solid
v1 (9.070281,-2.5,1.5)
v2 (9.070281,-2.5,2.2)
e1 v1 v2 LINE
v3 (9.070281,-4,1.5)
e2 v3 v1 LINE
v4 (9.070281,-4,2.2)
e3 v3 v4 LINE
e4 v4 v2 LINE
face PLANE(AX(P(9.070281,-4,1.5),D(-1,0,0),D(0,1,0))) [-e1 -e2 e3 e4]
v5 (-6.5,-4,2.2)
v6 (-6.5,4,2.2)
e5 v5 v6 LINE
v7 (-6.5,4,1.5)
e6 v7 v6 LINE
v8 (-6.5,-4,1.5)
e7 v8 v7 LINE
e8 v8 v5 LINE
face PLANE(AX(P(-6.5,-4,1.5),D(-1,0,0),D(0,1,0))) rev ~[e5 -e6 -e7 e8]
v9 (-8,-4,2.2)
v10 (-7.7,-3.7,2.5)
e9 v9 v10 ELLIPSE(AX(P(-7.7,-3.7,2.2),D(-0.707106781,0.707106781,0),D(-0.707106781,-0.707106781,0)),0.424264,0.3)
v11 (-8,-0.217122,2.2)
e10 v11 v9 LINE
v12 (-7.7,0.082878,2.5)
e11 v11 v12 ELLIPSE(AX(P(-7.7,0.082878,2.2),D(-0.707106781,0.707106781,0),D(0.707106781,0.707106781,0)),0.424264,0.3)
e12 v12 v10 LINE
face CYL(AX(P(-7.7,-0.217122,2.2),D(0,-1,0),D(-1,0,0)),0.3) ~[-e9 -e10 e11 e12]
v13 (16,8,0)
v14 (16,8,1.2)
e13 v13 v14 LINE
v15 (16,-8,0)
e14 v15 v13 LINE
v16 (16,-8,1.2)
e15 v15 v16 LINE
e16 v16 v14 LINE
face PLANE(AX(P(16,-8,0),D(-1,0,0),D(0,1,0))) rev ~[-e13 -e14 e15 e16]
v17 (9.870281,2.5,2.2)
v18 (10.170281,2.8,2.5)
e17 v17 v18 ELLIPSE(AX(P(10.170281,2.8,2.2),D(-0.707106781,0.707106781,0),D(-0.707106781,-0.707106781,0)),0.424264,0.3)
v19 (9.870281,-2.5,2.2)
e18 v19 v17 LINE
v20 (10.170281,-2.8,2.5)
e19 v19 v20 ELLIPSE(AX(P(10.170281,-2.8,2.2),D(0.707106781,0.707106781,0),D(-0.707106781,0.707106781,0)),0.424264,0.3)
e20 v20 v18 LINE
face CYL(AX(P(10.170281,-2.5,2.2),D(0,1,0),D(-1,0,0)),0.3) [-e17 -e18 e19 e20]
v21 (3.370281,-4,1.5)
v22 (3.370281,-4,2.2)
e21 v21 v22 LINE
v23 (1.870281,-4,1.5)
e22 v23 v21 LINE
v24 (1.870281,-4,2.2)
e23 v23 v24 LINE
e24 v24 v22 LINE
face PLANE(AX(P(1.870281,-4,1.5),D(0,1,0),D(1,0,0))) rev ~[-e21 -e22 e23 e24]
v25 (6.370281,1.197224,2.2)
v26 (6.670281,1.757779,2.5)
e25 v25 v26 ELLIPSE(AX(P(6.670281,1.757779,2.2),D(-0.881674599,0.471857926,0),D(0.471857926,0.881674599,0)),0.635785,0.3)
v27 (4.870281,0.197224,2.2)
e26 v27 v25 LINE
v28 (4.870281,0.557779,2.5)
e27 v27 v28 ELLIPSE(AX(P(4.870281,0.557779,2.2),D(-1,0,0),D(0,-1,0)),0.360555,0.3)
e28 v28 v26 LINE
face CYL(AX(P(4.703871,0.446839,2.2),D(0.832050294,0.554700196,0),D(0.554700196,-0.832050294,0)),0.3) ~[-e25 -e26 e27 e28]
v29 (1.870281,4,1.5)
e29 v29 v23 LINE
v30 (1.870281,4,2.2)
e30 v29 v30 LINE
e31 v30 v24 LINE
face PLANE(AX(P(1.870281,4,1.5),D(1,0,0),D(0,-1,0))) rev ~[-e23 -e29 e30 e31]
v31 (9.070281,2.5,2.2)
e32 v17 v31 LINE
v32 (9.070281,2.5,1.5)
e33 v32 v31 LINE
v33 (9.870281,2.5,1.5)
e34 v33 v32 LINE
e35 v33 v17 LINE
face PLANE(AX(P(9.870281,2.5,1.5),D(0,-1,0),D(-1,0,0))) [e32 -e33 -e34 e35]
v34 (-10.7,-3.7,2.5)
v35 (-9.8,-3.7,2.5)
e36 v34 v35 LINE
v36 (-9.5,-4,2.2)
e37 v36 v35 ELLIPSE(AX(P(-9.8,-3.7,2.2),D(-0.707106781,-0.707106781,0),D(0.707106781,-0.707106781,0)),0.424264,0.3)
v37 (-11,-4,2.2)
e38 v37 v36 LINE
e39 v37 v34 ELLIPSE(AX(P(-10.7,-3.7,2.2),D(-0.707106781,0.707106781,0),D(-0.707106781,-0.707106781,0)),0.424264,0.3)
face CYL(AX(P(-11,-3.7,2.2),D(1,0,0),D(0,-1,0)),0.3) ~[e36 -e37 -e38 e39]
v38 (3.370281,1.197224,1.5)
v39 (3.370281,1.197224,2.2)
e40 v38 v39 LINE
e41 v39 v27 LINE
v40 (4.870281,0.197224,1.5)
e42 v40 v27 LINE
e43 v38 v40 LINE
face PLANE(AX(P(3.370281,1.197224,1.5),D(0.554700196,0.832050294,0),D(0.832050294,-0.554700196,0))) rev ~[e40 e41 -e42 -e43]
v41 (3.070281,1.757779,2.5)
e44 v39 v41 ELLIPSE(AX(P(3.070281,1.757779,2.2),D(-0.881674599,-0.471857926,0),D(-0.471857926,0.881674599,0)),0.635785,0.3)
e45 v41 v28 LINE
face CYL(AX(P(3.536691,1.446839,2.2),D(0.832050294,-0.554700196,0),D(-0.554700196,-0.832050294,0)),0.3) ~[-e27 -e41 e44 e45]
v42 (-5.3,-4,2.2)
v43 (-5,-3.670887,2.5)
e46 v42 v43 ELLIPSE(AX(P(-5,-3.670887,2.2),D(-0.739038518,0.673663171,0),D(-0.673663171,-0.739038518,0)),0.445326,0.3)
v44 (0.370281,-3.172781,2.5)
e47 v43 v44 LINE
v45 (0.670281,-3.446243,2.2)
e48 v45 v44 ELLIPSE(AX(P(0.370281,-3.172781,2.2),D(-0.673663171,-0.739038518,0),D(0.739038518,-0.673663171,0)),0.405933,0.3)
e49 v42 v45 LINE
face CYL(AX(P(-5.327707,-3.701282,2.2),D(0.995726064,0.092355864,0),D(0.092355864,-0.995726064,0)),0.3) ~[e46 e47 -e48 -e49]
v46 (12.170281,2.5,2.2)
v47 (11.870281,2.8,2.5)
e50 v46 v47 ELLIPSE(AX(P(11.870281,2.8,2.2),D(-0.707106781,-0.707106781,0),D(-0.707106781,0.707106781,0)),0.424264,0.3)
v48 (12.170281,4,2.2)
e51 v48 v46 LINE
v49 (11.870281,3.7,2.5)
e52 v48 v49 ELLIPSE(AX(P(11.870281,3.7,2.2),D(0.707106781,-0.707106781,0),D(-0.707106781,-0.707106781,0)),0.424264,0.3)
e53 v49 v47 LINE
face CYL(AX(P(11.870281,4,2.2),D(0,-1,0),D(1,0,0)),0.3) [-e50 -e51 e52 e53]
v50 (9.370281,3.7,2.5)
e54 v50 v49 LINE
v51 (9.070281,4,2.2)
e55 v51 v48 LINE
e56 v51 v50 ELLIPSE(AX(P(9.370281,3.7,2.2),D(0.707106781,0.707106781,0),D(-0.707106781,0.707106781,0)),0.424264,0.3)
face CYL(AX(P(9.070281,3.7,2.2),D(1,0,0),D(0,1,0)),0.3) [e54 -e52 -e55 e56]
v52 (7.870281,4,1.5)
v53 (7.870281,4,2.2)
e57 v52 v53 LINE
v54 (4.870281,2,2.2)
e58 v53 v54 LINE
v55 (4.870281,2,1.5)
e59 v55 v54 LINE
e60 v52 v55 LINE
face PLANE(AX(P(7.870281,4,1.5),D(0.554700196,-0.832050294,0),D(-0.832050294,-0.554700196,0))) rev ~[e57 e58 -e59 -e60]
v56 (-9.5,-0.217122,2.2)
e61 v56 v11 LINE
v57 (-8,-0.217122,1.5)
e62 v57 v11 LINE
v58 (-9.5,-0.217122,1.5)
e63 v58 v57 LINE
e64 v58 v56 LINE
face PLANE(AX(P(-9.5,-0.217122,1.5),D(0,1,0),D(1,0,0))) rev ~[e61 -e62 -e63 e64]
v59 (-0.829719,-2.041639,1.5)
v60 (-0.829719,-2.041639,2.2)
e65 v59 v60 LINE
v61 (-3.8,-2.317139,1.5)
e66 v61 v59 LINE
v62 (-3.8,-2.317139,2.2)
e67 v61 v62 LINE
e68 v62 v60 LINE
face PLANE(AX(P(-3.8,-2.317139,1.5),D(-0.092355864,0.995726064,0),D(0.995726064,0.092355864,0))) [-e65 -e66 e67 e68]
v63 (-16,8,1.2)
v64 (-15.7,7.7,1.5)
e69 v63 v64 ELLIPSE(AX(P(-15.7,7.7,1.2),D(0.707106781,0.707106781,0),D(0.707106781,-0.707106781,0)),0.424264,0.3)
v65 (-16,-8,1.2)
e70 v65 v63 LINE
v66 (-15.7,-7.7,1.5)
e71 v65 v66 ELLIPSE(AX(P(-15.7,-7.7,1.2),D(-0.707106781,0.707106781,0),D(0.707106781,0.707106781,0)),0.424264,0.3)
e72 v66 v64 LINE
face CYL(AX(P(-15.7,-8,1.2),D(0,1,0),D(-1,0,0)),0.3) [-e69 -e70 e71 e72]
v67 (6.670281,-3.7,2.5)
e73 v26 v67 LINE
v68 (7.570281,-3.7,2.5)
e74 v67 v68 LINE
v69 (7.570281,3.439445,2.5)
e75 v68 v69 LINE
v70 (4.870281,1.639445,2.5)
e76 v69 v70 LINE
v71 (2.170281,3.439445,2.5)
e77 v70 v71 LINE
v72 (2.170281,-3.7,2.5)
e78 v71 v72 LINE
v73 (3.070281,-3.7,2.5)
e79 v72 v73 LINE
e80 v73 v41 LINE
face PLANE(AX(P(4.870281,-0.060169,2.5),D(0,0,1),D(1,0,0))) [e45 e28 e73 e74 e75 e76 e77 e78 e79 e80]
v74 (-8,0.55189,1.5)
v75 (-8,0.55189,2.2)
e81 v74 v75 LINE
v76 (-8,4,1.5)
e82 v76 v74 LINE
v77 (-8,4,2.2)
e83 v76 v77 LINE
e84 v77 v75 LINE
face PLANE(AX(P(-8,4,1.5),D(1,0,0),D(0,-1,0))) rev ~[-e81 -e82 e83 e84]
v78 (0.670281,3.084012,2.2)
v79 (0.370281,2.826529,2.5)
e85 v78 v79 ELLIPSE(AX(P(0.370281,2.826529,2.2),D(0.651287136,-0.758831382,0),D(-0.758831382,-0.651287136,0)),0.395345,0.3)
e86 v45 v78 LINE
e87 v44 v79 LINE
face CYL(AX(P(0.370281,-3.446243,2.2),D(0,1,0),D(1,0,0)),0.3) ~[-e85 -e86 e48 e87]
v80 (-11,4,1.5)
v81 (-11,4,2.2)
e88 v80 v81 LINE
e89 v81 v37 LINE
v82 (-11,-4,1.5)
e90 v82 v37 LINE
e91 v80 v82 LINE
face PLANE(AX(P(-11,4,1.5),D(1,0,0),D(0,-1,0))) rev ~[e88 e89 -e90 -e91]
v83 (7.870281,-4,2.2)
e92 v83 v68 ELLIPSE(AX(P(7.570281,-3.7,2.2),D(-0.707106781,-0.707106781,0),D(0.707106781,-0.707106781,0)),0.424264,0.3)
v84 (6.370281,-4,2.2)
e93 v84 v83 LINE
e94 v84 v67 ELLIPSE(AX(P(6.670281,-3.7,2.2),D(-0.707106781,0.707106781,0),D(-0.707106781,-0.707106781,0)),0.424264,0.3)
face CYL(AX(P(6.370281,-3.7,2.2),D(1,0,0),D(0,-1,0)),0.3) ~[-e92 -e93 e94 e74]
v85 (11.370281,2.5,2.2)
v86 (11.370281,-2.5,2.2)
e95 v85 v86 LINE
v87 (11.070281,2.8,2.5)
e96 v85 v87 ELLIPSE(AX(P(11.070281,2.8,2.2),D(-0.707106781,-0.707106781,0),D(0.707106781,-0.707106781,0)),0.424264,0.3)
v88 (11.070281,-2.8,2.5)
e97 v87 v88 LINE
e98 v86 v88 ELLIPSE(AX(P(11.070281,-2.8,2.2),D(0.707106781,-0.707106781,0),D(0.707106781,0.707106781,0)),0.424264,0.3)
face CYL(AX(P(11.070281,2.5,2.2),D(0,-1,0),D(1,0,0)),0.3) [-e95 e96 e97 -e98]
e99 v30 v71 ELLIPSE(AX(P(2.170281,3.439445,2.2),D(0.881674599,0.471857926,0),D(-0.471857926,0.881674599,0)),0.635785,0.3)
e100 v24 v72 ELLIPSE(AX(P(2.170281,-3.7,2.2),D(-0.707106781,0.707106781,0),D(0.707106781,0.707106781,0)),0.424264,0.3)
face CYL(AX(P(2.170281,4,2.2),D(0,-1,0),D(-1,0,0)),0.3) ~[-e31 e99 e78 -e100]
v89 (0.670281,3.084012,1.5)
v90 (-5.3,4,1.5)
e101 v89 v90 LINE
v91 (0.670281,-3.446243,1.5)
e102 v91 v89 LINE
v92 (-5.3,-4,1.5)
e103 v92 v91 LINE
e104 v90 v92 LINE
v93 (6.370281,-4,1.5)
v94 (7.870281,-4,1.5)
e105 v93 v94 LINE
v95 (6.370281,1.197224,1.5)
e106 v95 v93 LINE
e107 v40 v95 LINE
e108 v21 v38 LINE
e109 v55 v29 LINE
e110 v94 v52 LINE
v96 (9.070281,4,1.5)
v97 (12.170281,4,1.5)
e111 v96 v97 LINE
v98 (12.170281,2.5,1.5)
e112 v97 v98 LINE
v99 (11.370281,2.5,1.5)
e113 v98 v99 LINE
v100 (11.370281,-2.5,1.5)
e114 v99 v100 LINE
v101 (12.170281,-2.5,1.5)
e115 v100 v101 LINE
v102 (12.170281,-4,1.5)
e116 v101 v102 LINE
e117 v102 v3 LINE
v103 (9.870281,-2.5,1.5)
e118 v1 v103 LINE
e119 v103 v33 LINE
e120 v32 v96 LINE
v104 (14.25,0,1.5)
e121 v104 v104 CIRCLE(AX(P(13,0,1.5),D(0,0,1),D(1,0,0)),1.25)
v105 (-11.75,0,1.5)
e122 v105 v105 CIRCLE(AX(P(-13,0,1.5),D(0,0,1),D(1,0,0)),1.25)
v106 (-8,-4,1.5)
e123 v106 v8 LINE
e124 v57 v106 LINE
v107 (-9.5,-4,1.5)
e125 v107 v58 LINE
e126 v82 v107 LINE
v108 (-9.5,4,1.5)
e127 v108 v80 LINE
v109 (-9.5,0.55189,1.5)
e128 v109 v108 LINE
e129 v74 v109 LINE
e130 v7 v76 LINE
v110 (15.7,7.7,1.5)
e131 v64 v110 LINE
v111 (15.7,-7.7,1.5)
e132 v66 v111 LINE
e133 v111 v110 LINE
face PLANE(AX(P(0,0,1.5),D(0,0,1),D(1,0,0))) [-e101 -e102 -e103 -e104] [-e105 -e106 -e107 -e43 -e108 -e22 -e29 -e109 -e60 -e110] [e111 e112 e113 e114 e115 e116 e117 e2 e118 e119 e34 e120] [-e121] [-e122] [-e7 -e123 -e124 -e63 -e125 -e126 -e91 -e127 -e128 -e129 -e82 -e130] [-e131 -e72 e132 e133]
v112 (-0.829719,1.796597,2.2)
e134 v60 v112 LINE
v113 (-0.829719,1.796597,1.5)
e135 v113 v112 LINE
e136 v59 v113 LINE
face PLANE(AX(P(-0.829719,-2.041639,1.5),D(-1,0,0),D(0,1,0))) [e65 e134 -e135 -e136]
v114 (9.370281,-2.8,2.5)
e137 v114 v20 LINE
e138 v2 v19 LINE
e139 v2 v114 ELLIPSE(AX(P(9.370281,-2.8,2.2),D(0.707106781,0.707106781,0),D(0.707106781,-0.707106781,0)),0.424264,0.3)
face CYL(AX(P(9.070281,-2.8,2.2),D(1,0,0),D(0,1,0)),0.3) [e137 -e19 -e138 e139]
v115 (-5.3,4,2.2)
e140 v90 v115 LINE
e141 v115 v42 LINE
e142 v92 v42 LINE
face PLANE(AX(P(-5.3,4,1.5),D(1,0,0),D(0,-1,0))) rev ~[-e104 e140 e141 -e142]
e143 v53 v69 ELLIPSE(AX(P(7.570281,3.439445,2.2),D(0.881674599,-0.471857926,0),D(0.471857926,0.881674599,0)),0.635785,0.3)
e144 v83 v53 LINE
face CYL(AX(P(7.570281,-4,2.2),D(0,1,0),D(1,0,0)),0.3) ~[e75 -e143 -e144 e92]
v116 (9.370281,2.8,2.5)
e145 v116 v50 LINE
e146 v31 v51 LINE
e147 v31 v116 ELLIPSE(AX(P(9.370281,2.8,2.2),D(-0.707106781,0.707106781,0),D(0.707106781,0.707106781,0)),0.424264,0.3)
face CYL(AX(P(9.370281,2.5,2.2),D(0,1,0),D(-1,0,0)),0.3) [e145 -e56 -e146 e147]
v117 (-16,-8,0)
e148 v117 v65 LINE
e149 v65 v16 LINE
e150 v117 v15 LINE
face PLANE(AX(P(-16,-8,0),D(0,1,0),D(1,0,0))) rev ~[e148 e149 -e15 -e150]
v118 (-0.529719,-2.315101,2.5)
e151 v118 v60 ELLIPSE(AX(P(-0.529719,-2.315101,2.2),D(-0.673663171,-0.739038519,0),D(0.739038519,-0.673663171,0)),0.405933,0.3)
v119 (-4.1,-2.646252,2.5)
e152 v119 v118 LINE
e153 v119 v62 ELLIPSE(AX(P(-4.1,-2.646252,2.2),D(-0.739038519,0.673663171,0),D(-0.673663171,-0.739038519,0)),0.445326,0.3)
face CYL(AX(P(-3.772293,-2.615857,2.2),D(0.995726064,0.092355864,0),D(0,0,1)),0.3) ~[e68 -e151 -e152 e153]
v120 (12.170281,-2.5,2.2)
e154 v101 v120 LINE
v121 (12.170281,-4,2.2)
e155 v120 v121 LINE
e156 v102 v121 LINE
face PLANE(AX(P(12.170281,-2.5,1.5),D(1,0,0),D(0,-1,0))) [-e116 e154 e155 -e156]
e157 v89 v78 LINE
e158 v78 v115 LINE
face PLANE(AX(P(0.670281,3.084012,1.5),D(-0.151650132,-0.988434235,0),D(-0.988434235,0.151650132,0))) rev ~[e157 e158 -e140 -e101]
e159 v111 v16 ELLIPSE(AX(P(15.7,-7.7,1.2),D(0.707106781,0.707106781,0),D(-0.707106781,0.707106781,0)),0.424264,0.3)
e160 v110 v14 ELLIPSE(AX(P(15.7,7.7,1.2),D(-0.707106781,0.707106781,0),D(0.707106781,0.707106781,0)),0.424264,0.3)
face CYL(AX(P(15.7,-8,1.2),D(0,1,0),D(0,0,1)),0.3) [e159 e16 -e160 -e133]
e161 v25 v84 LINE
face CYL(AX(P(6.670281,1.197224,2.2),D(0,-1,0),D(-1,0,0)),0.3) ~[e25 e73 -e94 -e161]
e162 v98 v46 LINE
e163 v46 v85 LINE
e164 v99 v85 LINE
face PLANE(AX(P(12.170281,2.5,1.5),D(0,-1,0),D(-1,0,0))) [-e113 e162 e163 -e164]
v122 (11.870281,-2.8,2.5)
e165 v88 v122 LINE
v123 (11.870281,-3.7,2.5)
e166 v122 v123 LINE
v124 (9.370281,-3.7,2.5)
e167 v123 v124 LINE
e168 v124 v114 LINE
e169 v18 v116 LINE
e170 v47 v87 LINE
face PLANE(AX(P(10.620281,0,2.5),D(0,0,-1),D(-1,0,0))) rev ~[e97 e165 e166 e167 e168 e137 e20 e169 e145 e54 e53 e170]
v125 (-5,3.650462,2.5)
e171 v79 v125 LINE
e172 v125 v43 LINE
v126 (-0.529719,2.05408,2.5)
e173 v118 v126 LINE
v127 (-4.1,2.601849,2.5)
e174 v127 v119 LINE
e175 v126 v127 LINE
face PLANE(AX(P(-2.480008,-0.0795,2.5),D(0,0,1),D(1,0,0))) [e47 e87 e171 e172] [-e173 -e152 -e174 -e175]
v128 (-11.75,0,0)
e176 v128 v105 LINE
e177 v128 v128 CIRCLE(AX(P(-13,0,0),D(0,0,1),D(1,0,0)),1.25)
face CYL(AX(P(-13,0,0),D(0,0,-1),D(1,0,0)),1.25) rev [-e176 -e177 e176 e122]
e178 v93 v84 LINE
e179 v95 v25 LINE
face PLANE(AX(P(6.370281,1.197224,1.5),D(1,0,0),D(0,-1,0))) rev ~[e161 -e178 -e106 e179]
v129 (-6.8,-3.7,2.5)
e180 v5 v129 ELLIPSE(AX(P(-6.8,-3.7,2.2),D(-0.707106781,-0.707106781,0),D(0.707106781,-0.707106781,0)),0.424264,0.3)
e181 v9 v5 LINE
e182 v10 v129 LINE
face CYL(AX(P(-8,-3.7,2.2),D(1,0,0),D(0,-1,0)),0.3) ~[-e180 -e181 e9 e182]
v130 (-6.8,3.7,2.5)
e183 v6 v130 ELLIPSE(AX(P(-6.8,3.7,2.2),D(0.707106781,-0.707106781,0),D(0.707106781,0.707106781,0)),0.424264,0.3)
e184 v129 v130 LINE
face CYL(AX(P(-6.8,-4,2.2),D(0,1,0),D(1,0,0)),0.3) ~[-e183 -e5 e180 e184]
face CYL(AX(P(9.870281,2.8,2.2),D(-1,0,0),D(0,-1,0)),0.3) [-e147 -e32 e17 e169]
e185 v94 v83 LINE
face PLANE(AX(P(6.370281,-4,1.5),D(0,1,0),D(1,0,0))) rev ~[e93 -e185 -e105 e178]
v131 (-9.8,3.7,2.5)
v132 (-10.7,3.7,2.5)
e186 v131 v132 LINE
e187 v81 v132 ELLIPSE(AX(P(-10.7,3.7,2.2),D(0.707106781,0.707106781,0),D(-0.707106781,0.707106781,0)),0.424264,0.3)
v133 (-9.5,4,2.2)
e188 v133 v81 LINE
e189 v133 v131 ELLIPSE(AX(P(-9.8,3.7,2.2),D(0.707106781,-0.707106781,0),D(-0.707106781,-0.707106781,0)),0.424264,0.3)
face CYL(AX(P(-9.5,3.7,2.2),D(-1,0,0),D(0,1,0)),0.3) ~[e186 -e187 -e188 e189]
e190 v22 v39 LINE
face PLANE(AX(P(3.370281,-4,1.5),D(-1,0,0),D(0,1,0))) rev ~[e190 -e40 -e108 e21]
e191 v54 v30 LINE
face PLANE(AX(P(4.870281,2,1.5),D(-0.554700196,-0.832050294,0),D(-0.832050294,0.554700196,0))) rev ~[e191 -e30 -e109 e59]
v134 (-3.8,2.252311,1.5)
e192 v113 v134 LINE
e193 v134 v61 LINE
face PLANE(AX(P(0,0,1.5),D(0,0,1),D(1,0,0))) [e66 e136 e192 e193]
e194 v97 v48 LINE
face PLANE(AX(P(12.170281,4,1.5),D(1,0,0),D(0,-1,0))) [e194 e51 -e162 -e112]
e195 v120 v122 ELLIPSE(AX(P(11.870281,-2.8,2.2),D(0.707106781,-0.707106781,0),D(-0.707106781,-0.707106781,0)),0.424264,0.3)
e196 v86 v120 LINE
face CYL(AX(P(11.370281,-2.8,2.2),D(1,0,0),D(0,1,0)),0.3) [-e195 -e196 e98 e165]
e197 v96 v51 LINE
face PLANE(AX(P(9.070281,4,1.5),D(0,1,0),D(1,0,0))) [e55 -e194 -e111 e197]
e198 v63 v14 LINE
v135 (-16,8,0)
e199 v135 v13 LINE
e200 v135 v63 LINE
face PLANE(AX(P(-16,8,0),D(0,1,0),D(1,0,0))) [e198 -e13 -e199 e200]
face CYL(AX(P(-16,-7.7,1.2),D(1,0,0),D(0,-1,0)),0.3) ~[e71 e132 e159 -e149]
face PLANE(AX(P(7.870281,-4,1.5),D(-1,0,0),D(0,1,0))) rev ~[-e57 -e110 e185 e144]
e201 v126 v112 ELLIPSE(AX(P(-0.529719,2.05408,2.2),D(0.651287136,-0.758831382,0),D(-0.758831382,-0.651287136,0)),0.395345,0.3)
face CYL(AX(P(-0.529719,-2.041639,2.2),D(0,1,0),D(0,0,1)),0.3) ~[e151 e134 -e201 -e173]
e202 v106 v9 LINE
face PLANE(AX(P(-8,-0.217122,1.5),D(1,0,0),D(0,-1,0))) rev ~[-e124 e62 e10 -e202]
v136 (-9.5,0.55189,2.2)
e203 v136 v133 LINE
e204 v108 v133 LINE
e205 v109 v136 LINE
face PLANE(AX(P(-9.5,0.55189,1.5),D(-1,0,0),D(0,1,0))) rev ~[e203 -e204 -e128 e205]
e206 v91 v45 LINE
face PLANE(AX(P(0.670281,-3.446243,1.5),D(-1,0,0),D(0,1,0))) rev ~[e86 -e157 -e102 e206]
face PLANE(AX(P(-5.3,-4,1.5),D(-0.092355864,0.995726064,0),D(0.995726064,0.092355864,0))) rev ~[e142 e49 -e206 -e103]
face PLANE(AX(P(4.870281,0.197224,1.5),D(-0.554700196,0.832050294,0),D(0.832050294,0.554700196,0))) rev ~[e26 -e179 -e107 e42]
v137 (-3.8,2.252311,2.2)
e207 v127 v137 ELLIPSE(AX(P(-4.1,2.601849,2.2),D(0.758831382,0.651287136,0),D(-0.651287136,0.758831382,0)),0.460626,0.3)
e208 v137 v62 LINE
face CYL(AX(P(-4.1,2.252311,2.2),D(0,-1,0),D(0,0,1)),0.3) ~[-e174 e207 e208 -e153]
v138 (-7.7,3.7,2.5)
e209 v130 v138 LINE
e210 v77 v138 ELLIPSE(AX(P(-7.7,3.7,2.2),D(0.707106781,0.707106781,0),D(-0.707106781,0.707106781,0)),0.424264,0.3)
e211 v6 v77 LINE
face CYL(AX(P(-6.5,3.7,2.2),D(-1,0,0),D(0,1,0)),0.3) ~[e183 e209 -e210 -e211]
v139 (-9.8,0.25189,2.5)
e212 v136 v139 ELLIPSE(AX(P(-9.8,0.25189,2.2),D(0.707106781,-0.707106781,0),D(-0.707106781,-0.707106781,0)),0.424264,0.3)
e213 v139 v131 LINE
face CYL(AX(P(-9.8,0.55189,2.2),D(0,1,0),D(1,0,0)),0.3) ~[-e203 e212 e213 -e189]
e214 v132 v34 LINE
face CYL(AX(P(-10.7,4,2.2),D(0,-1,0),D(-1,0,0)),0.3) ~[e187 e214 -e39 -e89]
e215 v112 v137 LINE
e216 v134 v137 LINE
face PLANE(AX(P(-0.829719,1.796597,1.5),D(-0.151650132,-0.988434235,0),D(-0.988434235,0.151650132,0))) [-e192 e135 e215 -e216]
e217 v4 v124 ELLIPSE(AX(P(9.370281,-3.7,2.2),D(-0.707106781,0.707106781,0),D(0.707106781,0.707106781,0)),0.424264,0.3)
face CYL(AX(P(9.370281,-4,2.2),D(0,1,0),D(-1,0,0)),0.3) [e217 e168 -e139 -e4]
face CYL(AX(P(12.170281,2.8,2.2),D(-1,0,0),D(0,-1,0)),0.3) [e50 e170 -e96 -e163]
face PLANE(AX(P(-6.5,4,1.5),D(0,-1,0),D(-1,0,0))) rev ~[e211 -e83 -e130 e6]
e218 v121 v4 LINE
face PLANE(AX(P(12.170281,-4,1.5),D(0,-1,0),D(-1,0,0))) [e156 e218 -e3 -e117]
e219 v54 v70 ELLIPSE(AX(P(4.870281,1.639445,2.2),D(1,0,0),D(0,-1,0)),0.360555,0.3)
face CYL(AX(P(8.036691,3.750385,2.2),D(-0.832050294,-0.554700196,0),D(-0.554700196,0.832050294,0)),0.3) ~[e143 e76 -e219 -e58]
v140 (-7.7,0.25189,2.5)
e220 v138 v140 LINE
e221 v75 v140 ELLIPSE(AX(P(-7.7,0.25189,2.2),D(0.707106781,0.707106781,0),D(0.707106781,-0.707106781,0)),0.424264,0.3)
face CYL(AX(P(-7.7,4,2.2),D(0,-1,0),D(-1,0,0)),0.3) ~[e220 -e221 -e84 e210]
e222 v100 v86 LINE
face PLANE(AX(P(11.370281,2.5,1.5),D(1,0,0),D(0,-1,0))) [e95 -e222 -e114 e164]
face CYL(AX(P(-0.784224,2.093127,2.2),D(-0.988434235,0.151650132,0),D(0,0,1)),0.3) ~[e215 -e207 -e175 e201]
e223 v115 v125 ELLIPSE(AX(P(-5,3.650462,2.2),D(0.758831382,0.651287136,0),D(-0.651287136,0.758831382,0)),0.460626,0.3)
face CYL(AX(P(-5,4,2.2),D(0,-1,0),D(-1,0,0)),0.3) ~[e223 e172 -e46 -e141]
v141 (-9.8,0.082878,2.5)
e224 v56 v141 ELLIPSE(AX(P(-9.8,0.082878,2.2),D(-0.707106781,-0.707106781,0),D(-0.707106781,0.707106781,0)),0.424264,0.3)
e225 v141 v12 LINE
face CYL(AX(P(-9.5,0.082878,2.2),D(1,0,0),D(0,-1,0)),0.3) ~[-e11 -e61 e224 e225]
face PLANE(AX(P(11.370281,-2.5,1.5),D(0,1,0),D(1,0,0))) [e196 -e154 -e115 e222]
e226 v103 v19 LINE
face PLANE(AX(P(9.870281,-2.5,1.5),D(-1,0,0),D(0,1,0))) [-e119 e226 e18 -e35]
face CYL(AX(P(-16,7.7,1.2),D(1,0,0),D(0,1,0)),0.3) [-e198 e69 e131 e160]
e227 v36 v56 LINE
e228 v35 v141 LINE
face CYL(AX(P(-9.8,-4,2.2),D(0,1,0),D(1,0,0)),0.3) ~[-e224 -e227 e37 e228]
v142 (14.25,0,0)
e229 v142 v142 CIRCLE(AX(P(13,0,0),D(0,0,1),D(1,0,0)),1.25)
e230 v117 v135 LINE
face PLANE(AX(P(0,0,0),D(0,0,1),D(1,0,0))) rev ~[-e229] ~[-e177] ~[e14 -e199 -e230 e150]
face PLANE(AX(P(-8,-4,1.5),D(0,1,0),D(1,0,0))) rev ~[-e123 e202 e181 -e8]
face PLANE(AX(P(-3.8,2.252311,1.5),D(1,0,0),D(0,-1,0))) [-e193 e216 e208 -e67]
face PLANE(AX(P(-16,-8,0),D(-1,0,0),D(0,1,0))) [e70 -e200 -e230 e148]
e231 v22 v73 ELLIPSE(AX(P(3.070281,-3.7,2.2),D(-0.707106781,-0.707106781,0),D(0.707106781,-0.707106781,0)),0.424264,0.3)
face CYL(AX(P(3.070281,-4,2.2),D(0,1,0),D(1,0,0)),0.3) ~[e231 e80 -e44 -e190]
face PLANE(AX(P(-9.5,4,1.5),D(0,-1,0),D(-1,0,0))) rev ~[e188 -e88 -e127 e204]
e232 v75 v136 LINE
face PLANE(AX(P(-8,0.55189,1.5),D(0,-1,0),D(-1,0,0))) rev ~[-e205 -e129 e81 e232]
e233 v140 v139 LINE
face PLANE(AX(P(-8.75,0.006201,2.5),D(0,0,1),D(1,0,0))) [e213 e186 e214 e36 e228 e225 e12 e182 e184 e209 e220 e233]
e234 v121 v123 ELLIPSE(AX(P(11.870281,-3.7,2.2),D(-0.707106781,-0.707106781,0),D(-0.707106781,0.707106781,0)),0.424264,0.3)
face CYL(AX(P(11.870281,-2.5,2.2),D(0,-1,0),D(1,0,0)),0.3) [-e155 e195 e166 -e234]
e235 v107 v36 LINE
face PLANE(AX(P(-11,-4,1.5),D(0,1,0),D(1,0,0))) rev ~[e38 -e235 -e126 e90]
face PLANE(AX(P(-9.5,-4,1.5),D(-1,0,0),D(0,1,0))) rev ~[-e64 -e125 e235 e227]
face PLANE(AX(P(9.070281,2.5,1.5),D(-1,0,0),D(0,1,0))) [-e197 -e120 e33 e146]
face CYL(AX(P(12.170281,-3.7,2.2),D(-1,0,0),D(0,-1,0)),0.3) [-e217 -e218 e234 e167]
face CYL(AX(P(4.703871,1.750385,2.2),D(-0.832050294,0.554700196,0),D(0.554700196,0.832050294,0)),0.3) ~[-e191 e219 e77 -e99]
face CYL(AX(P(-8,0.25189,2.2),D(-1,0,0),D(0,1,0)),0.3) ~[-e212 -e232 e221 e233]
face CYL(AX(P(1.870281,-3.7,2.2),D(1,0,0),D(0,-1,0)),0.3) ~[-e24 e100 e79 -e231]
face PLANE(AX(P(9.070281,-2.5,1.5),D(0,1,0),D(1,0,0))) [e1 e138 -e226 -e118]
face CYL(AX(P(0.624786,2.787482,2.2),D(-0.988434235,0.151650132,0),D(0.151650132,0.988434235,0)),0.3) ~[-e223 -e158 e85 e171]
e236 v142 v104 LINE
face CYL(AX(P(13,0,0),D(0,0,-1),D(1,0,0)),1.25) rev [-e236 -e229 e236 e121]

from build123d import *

# Parameters (mm, degrees)
SKETCH_1_W      = 32
SKETCH_1_H      = 16
SKETCH_1_R      = 1.25
EXTRUDE_1_DEPTH = 1.5
EXTRUDE_2_DEPTH = 1
FILLET_2_R      = 0.3


with BuildPart() as part:
    # Эскиз1 → Бобышка-Вытянуть1 (new body)
    with BuildSketch(Plane.XY):
        Rectangle(SKETCH_1_W, SKETCH_1_H)
        with Locations((-13, 0)):
            Circle(SKETCH_1_R, mode=Mode.SUBTRACT)
        with Locations((13, 0)):
            Circle(SKETCH_1_R, mode=Mode.SUBTRACT)
    extrude(amount=EXTRUDE_1_DEPTH)

    # Эскиз3 → Бобышка-Вытянуть2 (add)
    # profile 1 of 4: a face of its own
    with BuildSketch(Plane.XY.offset(1.5)):
        Polygon((-11, 4), (-11, -4), (-9.5, -4), (-9.5, -0.217121743), (-8, -0.217121743), (-8, -4), (-6.5, -4), (-6.5, 4), (-8, 4), (-8, 0.55188973), (-9.5, 0.55188973), (-9.5, 4), align=None)
    # profile 2 of 4: a face of its own
    with BuildSketch(Plane.XY.offset(1.5)):
        Polygon((-5.3, 4), (-5.3, -4), (0.67028136, -3.446242786), (0.67028136, 3.084011942), align=None)
        Polygon((-3.8, 2.252311448), (-3.8, -2.317138921), (-0.82971864, -2.041638549), (-0.82971864, 1.796597204), align=None, mode=Mode.SUBTRACT)
    # profile 3 of 4: a face of its own
    with BuildSketch(Plane.XY.offset(1.5)):
        Polygon((1.87028136, 4), (1.87028136, -4), (3.37028136, -4), (3.37028136, 1.197224362), (4.87028136, 0.197224362), (6.37028136, 1.197224362), (6.37028136, -4), (7.87028136, -4), (7.87028136, 4), (4.87028136, 2), align=None)
    # profile 4 of 4: a face of its own
    with BuildSketch(Plane.XY.offset(1.5)):
        Polygon((9.07028136, 4), (12.17028136, 4), (12.17028136, 2.5), (11.37028136, 2.5), (11.37028136, -2.5), (12.17028136, -2.5), (12.17028136, -4), (9.07028136, -4), (9.07028136, -2.5), (9.87028136, -2.5), (9.87028136, 2.5), (9.07028136, 2.5), align=None)
    extrude(amount=EXTRUDE_2_DEPTH)

    # Скругление2
    fillet_2_edges = [part.edges().sort_by_distance(p)[0] for p in [
        (16, 0, 1.5),
        (9.07028136, 3.25, 2.5),
        (9.47028136, 2.5, 2.5),
        (9.87028136, 0, 2.5),
        (9.47028136, -2.5, 2.5),
        (9.07028136, -3.25, 2.5),
        (10.62028136, -4, 2.5),
        (12.17028136, -3.25, 2.5),
        (11.77028136, -2.5, 2.5),
        (11.37028136, 0, 2.5),
        (11.77028136, 2.5, 2.5),
        (12.17028136, 3.25, 2.5),
        (10.62028136, 4, 2.5),
        (0, 8, 1.5),
        (-10.25, 4, 2.5),
        (-11, 0, 2.5),
        (-10.25, -4, 2.5),
        (-9.5, -2.108560871, 2.5),
        (-8.75, -0.217121743, 2.5),
        (-8, -2.108560871, 2.5),
        (-7.25, -4, 2.5),
        (-6.5, 0, 2.5),
        (-7.25, 4, 2.5),
        (-8, 2.275944865, 2.5),
        (-8.75, 0.55188973, 2.5),
        (-9.5, 2.275944865, 2.5),
        (-16, 0, 1.5),
        (-2.31485932, 3.542005971, 2.5),
        (-5.3, 0, 2.5),
        (-2.31485932, -3.723121393, 2.5),
        (0.67028136, -0.181115422, 2.5),
        (-2.31485932, 2.024454326, 2.5),
        (-3.8, -0.032413737, 2.5),
        (-2.31485932, -2.179388735, 2.5),
        (-0.82971864, -0.122520673, 2.5),
        (0, -8, 1.5),
        (2.62028136, -4, 2.5),
        (3.37028136, -1.401387819, 2.5),
        (4.12028136, 0.697224362, 2.5),
        (5.62028136, 0.697224362, 2.5),
        (6.37028136, -1.401387819, 2.5),
        (7.12028136, -4, 2.5),
        (7.87028136, 0, 2.5),
        (6.37028136, 3, 2.5),
        (3.37028136, 3, 2.5),
        (1.87028136, 0, 2.5),
    ]]
    fillet(fillet_2_edges, radius=FILLET_2_R)


solid = part.part
